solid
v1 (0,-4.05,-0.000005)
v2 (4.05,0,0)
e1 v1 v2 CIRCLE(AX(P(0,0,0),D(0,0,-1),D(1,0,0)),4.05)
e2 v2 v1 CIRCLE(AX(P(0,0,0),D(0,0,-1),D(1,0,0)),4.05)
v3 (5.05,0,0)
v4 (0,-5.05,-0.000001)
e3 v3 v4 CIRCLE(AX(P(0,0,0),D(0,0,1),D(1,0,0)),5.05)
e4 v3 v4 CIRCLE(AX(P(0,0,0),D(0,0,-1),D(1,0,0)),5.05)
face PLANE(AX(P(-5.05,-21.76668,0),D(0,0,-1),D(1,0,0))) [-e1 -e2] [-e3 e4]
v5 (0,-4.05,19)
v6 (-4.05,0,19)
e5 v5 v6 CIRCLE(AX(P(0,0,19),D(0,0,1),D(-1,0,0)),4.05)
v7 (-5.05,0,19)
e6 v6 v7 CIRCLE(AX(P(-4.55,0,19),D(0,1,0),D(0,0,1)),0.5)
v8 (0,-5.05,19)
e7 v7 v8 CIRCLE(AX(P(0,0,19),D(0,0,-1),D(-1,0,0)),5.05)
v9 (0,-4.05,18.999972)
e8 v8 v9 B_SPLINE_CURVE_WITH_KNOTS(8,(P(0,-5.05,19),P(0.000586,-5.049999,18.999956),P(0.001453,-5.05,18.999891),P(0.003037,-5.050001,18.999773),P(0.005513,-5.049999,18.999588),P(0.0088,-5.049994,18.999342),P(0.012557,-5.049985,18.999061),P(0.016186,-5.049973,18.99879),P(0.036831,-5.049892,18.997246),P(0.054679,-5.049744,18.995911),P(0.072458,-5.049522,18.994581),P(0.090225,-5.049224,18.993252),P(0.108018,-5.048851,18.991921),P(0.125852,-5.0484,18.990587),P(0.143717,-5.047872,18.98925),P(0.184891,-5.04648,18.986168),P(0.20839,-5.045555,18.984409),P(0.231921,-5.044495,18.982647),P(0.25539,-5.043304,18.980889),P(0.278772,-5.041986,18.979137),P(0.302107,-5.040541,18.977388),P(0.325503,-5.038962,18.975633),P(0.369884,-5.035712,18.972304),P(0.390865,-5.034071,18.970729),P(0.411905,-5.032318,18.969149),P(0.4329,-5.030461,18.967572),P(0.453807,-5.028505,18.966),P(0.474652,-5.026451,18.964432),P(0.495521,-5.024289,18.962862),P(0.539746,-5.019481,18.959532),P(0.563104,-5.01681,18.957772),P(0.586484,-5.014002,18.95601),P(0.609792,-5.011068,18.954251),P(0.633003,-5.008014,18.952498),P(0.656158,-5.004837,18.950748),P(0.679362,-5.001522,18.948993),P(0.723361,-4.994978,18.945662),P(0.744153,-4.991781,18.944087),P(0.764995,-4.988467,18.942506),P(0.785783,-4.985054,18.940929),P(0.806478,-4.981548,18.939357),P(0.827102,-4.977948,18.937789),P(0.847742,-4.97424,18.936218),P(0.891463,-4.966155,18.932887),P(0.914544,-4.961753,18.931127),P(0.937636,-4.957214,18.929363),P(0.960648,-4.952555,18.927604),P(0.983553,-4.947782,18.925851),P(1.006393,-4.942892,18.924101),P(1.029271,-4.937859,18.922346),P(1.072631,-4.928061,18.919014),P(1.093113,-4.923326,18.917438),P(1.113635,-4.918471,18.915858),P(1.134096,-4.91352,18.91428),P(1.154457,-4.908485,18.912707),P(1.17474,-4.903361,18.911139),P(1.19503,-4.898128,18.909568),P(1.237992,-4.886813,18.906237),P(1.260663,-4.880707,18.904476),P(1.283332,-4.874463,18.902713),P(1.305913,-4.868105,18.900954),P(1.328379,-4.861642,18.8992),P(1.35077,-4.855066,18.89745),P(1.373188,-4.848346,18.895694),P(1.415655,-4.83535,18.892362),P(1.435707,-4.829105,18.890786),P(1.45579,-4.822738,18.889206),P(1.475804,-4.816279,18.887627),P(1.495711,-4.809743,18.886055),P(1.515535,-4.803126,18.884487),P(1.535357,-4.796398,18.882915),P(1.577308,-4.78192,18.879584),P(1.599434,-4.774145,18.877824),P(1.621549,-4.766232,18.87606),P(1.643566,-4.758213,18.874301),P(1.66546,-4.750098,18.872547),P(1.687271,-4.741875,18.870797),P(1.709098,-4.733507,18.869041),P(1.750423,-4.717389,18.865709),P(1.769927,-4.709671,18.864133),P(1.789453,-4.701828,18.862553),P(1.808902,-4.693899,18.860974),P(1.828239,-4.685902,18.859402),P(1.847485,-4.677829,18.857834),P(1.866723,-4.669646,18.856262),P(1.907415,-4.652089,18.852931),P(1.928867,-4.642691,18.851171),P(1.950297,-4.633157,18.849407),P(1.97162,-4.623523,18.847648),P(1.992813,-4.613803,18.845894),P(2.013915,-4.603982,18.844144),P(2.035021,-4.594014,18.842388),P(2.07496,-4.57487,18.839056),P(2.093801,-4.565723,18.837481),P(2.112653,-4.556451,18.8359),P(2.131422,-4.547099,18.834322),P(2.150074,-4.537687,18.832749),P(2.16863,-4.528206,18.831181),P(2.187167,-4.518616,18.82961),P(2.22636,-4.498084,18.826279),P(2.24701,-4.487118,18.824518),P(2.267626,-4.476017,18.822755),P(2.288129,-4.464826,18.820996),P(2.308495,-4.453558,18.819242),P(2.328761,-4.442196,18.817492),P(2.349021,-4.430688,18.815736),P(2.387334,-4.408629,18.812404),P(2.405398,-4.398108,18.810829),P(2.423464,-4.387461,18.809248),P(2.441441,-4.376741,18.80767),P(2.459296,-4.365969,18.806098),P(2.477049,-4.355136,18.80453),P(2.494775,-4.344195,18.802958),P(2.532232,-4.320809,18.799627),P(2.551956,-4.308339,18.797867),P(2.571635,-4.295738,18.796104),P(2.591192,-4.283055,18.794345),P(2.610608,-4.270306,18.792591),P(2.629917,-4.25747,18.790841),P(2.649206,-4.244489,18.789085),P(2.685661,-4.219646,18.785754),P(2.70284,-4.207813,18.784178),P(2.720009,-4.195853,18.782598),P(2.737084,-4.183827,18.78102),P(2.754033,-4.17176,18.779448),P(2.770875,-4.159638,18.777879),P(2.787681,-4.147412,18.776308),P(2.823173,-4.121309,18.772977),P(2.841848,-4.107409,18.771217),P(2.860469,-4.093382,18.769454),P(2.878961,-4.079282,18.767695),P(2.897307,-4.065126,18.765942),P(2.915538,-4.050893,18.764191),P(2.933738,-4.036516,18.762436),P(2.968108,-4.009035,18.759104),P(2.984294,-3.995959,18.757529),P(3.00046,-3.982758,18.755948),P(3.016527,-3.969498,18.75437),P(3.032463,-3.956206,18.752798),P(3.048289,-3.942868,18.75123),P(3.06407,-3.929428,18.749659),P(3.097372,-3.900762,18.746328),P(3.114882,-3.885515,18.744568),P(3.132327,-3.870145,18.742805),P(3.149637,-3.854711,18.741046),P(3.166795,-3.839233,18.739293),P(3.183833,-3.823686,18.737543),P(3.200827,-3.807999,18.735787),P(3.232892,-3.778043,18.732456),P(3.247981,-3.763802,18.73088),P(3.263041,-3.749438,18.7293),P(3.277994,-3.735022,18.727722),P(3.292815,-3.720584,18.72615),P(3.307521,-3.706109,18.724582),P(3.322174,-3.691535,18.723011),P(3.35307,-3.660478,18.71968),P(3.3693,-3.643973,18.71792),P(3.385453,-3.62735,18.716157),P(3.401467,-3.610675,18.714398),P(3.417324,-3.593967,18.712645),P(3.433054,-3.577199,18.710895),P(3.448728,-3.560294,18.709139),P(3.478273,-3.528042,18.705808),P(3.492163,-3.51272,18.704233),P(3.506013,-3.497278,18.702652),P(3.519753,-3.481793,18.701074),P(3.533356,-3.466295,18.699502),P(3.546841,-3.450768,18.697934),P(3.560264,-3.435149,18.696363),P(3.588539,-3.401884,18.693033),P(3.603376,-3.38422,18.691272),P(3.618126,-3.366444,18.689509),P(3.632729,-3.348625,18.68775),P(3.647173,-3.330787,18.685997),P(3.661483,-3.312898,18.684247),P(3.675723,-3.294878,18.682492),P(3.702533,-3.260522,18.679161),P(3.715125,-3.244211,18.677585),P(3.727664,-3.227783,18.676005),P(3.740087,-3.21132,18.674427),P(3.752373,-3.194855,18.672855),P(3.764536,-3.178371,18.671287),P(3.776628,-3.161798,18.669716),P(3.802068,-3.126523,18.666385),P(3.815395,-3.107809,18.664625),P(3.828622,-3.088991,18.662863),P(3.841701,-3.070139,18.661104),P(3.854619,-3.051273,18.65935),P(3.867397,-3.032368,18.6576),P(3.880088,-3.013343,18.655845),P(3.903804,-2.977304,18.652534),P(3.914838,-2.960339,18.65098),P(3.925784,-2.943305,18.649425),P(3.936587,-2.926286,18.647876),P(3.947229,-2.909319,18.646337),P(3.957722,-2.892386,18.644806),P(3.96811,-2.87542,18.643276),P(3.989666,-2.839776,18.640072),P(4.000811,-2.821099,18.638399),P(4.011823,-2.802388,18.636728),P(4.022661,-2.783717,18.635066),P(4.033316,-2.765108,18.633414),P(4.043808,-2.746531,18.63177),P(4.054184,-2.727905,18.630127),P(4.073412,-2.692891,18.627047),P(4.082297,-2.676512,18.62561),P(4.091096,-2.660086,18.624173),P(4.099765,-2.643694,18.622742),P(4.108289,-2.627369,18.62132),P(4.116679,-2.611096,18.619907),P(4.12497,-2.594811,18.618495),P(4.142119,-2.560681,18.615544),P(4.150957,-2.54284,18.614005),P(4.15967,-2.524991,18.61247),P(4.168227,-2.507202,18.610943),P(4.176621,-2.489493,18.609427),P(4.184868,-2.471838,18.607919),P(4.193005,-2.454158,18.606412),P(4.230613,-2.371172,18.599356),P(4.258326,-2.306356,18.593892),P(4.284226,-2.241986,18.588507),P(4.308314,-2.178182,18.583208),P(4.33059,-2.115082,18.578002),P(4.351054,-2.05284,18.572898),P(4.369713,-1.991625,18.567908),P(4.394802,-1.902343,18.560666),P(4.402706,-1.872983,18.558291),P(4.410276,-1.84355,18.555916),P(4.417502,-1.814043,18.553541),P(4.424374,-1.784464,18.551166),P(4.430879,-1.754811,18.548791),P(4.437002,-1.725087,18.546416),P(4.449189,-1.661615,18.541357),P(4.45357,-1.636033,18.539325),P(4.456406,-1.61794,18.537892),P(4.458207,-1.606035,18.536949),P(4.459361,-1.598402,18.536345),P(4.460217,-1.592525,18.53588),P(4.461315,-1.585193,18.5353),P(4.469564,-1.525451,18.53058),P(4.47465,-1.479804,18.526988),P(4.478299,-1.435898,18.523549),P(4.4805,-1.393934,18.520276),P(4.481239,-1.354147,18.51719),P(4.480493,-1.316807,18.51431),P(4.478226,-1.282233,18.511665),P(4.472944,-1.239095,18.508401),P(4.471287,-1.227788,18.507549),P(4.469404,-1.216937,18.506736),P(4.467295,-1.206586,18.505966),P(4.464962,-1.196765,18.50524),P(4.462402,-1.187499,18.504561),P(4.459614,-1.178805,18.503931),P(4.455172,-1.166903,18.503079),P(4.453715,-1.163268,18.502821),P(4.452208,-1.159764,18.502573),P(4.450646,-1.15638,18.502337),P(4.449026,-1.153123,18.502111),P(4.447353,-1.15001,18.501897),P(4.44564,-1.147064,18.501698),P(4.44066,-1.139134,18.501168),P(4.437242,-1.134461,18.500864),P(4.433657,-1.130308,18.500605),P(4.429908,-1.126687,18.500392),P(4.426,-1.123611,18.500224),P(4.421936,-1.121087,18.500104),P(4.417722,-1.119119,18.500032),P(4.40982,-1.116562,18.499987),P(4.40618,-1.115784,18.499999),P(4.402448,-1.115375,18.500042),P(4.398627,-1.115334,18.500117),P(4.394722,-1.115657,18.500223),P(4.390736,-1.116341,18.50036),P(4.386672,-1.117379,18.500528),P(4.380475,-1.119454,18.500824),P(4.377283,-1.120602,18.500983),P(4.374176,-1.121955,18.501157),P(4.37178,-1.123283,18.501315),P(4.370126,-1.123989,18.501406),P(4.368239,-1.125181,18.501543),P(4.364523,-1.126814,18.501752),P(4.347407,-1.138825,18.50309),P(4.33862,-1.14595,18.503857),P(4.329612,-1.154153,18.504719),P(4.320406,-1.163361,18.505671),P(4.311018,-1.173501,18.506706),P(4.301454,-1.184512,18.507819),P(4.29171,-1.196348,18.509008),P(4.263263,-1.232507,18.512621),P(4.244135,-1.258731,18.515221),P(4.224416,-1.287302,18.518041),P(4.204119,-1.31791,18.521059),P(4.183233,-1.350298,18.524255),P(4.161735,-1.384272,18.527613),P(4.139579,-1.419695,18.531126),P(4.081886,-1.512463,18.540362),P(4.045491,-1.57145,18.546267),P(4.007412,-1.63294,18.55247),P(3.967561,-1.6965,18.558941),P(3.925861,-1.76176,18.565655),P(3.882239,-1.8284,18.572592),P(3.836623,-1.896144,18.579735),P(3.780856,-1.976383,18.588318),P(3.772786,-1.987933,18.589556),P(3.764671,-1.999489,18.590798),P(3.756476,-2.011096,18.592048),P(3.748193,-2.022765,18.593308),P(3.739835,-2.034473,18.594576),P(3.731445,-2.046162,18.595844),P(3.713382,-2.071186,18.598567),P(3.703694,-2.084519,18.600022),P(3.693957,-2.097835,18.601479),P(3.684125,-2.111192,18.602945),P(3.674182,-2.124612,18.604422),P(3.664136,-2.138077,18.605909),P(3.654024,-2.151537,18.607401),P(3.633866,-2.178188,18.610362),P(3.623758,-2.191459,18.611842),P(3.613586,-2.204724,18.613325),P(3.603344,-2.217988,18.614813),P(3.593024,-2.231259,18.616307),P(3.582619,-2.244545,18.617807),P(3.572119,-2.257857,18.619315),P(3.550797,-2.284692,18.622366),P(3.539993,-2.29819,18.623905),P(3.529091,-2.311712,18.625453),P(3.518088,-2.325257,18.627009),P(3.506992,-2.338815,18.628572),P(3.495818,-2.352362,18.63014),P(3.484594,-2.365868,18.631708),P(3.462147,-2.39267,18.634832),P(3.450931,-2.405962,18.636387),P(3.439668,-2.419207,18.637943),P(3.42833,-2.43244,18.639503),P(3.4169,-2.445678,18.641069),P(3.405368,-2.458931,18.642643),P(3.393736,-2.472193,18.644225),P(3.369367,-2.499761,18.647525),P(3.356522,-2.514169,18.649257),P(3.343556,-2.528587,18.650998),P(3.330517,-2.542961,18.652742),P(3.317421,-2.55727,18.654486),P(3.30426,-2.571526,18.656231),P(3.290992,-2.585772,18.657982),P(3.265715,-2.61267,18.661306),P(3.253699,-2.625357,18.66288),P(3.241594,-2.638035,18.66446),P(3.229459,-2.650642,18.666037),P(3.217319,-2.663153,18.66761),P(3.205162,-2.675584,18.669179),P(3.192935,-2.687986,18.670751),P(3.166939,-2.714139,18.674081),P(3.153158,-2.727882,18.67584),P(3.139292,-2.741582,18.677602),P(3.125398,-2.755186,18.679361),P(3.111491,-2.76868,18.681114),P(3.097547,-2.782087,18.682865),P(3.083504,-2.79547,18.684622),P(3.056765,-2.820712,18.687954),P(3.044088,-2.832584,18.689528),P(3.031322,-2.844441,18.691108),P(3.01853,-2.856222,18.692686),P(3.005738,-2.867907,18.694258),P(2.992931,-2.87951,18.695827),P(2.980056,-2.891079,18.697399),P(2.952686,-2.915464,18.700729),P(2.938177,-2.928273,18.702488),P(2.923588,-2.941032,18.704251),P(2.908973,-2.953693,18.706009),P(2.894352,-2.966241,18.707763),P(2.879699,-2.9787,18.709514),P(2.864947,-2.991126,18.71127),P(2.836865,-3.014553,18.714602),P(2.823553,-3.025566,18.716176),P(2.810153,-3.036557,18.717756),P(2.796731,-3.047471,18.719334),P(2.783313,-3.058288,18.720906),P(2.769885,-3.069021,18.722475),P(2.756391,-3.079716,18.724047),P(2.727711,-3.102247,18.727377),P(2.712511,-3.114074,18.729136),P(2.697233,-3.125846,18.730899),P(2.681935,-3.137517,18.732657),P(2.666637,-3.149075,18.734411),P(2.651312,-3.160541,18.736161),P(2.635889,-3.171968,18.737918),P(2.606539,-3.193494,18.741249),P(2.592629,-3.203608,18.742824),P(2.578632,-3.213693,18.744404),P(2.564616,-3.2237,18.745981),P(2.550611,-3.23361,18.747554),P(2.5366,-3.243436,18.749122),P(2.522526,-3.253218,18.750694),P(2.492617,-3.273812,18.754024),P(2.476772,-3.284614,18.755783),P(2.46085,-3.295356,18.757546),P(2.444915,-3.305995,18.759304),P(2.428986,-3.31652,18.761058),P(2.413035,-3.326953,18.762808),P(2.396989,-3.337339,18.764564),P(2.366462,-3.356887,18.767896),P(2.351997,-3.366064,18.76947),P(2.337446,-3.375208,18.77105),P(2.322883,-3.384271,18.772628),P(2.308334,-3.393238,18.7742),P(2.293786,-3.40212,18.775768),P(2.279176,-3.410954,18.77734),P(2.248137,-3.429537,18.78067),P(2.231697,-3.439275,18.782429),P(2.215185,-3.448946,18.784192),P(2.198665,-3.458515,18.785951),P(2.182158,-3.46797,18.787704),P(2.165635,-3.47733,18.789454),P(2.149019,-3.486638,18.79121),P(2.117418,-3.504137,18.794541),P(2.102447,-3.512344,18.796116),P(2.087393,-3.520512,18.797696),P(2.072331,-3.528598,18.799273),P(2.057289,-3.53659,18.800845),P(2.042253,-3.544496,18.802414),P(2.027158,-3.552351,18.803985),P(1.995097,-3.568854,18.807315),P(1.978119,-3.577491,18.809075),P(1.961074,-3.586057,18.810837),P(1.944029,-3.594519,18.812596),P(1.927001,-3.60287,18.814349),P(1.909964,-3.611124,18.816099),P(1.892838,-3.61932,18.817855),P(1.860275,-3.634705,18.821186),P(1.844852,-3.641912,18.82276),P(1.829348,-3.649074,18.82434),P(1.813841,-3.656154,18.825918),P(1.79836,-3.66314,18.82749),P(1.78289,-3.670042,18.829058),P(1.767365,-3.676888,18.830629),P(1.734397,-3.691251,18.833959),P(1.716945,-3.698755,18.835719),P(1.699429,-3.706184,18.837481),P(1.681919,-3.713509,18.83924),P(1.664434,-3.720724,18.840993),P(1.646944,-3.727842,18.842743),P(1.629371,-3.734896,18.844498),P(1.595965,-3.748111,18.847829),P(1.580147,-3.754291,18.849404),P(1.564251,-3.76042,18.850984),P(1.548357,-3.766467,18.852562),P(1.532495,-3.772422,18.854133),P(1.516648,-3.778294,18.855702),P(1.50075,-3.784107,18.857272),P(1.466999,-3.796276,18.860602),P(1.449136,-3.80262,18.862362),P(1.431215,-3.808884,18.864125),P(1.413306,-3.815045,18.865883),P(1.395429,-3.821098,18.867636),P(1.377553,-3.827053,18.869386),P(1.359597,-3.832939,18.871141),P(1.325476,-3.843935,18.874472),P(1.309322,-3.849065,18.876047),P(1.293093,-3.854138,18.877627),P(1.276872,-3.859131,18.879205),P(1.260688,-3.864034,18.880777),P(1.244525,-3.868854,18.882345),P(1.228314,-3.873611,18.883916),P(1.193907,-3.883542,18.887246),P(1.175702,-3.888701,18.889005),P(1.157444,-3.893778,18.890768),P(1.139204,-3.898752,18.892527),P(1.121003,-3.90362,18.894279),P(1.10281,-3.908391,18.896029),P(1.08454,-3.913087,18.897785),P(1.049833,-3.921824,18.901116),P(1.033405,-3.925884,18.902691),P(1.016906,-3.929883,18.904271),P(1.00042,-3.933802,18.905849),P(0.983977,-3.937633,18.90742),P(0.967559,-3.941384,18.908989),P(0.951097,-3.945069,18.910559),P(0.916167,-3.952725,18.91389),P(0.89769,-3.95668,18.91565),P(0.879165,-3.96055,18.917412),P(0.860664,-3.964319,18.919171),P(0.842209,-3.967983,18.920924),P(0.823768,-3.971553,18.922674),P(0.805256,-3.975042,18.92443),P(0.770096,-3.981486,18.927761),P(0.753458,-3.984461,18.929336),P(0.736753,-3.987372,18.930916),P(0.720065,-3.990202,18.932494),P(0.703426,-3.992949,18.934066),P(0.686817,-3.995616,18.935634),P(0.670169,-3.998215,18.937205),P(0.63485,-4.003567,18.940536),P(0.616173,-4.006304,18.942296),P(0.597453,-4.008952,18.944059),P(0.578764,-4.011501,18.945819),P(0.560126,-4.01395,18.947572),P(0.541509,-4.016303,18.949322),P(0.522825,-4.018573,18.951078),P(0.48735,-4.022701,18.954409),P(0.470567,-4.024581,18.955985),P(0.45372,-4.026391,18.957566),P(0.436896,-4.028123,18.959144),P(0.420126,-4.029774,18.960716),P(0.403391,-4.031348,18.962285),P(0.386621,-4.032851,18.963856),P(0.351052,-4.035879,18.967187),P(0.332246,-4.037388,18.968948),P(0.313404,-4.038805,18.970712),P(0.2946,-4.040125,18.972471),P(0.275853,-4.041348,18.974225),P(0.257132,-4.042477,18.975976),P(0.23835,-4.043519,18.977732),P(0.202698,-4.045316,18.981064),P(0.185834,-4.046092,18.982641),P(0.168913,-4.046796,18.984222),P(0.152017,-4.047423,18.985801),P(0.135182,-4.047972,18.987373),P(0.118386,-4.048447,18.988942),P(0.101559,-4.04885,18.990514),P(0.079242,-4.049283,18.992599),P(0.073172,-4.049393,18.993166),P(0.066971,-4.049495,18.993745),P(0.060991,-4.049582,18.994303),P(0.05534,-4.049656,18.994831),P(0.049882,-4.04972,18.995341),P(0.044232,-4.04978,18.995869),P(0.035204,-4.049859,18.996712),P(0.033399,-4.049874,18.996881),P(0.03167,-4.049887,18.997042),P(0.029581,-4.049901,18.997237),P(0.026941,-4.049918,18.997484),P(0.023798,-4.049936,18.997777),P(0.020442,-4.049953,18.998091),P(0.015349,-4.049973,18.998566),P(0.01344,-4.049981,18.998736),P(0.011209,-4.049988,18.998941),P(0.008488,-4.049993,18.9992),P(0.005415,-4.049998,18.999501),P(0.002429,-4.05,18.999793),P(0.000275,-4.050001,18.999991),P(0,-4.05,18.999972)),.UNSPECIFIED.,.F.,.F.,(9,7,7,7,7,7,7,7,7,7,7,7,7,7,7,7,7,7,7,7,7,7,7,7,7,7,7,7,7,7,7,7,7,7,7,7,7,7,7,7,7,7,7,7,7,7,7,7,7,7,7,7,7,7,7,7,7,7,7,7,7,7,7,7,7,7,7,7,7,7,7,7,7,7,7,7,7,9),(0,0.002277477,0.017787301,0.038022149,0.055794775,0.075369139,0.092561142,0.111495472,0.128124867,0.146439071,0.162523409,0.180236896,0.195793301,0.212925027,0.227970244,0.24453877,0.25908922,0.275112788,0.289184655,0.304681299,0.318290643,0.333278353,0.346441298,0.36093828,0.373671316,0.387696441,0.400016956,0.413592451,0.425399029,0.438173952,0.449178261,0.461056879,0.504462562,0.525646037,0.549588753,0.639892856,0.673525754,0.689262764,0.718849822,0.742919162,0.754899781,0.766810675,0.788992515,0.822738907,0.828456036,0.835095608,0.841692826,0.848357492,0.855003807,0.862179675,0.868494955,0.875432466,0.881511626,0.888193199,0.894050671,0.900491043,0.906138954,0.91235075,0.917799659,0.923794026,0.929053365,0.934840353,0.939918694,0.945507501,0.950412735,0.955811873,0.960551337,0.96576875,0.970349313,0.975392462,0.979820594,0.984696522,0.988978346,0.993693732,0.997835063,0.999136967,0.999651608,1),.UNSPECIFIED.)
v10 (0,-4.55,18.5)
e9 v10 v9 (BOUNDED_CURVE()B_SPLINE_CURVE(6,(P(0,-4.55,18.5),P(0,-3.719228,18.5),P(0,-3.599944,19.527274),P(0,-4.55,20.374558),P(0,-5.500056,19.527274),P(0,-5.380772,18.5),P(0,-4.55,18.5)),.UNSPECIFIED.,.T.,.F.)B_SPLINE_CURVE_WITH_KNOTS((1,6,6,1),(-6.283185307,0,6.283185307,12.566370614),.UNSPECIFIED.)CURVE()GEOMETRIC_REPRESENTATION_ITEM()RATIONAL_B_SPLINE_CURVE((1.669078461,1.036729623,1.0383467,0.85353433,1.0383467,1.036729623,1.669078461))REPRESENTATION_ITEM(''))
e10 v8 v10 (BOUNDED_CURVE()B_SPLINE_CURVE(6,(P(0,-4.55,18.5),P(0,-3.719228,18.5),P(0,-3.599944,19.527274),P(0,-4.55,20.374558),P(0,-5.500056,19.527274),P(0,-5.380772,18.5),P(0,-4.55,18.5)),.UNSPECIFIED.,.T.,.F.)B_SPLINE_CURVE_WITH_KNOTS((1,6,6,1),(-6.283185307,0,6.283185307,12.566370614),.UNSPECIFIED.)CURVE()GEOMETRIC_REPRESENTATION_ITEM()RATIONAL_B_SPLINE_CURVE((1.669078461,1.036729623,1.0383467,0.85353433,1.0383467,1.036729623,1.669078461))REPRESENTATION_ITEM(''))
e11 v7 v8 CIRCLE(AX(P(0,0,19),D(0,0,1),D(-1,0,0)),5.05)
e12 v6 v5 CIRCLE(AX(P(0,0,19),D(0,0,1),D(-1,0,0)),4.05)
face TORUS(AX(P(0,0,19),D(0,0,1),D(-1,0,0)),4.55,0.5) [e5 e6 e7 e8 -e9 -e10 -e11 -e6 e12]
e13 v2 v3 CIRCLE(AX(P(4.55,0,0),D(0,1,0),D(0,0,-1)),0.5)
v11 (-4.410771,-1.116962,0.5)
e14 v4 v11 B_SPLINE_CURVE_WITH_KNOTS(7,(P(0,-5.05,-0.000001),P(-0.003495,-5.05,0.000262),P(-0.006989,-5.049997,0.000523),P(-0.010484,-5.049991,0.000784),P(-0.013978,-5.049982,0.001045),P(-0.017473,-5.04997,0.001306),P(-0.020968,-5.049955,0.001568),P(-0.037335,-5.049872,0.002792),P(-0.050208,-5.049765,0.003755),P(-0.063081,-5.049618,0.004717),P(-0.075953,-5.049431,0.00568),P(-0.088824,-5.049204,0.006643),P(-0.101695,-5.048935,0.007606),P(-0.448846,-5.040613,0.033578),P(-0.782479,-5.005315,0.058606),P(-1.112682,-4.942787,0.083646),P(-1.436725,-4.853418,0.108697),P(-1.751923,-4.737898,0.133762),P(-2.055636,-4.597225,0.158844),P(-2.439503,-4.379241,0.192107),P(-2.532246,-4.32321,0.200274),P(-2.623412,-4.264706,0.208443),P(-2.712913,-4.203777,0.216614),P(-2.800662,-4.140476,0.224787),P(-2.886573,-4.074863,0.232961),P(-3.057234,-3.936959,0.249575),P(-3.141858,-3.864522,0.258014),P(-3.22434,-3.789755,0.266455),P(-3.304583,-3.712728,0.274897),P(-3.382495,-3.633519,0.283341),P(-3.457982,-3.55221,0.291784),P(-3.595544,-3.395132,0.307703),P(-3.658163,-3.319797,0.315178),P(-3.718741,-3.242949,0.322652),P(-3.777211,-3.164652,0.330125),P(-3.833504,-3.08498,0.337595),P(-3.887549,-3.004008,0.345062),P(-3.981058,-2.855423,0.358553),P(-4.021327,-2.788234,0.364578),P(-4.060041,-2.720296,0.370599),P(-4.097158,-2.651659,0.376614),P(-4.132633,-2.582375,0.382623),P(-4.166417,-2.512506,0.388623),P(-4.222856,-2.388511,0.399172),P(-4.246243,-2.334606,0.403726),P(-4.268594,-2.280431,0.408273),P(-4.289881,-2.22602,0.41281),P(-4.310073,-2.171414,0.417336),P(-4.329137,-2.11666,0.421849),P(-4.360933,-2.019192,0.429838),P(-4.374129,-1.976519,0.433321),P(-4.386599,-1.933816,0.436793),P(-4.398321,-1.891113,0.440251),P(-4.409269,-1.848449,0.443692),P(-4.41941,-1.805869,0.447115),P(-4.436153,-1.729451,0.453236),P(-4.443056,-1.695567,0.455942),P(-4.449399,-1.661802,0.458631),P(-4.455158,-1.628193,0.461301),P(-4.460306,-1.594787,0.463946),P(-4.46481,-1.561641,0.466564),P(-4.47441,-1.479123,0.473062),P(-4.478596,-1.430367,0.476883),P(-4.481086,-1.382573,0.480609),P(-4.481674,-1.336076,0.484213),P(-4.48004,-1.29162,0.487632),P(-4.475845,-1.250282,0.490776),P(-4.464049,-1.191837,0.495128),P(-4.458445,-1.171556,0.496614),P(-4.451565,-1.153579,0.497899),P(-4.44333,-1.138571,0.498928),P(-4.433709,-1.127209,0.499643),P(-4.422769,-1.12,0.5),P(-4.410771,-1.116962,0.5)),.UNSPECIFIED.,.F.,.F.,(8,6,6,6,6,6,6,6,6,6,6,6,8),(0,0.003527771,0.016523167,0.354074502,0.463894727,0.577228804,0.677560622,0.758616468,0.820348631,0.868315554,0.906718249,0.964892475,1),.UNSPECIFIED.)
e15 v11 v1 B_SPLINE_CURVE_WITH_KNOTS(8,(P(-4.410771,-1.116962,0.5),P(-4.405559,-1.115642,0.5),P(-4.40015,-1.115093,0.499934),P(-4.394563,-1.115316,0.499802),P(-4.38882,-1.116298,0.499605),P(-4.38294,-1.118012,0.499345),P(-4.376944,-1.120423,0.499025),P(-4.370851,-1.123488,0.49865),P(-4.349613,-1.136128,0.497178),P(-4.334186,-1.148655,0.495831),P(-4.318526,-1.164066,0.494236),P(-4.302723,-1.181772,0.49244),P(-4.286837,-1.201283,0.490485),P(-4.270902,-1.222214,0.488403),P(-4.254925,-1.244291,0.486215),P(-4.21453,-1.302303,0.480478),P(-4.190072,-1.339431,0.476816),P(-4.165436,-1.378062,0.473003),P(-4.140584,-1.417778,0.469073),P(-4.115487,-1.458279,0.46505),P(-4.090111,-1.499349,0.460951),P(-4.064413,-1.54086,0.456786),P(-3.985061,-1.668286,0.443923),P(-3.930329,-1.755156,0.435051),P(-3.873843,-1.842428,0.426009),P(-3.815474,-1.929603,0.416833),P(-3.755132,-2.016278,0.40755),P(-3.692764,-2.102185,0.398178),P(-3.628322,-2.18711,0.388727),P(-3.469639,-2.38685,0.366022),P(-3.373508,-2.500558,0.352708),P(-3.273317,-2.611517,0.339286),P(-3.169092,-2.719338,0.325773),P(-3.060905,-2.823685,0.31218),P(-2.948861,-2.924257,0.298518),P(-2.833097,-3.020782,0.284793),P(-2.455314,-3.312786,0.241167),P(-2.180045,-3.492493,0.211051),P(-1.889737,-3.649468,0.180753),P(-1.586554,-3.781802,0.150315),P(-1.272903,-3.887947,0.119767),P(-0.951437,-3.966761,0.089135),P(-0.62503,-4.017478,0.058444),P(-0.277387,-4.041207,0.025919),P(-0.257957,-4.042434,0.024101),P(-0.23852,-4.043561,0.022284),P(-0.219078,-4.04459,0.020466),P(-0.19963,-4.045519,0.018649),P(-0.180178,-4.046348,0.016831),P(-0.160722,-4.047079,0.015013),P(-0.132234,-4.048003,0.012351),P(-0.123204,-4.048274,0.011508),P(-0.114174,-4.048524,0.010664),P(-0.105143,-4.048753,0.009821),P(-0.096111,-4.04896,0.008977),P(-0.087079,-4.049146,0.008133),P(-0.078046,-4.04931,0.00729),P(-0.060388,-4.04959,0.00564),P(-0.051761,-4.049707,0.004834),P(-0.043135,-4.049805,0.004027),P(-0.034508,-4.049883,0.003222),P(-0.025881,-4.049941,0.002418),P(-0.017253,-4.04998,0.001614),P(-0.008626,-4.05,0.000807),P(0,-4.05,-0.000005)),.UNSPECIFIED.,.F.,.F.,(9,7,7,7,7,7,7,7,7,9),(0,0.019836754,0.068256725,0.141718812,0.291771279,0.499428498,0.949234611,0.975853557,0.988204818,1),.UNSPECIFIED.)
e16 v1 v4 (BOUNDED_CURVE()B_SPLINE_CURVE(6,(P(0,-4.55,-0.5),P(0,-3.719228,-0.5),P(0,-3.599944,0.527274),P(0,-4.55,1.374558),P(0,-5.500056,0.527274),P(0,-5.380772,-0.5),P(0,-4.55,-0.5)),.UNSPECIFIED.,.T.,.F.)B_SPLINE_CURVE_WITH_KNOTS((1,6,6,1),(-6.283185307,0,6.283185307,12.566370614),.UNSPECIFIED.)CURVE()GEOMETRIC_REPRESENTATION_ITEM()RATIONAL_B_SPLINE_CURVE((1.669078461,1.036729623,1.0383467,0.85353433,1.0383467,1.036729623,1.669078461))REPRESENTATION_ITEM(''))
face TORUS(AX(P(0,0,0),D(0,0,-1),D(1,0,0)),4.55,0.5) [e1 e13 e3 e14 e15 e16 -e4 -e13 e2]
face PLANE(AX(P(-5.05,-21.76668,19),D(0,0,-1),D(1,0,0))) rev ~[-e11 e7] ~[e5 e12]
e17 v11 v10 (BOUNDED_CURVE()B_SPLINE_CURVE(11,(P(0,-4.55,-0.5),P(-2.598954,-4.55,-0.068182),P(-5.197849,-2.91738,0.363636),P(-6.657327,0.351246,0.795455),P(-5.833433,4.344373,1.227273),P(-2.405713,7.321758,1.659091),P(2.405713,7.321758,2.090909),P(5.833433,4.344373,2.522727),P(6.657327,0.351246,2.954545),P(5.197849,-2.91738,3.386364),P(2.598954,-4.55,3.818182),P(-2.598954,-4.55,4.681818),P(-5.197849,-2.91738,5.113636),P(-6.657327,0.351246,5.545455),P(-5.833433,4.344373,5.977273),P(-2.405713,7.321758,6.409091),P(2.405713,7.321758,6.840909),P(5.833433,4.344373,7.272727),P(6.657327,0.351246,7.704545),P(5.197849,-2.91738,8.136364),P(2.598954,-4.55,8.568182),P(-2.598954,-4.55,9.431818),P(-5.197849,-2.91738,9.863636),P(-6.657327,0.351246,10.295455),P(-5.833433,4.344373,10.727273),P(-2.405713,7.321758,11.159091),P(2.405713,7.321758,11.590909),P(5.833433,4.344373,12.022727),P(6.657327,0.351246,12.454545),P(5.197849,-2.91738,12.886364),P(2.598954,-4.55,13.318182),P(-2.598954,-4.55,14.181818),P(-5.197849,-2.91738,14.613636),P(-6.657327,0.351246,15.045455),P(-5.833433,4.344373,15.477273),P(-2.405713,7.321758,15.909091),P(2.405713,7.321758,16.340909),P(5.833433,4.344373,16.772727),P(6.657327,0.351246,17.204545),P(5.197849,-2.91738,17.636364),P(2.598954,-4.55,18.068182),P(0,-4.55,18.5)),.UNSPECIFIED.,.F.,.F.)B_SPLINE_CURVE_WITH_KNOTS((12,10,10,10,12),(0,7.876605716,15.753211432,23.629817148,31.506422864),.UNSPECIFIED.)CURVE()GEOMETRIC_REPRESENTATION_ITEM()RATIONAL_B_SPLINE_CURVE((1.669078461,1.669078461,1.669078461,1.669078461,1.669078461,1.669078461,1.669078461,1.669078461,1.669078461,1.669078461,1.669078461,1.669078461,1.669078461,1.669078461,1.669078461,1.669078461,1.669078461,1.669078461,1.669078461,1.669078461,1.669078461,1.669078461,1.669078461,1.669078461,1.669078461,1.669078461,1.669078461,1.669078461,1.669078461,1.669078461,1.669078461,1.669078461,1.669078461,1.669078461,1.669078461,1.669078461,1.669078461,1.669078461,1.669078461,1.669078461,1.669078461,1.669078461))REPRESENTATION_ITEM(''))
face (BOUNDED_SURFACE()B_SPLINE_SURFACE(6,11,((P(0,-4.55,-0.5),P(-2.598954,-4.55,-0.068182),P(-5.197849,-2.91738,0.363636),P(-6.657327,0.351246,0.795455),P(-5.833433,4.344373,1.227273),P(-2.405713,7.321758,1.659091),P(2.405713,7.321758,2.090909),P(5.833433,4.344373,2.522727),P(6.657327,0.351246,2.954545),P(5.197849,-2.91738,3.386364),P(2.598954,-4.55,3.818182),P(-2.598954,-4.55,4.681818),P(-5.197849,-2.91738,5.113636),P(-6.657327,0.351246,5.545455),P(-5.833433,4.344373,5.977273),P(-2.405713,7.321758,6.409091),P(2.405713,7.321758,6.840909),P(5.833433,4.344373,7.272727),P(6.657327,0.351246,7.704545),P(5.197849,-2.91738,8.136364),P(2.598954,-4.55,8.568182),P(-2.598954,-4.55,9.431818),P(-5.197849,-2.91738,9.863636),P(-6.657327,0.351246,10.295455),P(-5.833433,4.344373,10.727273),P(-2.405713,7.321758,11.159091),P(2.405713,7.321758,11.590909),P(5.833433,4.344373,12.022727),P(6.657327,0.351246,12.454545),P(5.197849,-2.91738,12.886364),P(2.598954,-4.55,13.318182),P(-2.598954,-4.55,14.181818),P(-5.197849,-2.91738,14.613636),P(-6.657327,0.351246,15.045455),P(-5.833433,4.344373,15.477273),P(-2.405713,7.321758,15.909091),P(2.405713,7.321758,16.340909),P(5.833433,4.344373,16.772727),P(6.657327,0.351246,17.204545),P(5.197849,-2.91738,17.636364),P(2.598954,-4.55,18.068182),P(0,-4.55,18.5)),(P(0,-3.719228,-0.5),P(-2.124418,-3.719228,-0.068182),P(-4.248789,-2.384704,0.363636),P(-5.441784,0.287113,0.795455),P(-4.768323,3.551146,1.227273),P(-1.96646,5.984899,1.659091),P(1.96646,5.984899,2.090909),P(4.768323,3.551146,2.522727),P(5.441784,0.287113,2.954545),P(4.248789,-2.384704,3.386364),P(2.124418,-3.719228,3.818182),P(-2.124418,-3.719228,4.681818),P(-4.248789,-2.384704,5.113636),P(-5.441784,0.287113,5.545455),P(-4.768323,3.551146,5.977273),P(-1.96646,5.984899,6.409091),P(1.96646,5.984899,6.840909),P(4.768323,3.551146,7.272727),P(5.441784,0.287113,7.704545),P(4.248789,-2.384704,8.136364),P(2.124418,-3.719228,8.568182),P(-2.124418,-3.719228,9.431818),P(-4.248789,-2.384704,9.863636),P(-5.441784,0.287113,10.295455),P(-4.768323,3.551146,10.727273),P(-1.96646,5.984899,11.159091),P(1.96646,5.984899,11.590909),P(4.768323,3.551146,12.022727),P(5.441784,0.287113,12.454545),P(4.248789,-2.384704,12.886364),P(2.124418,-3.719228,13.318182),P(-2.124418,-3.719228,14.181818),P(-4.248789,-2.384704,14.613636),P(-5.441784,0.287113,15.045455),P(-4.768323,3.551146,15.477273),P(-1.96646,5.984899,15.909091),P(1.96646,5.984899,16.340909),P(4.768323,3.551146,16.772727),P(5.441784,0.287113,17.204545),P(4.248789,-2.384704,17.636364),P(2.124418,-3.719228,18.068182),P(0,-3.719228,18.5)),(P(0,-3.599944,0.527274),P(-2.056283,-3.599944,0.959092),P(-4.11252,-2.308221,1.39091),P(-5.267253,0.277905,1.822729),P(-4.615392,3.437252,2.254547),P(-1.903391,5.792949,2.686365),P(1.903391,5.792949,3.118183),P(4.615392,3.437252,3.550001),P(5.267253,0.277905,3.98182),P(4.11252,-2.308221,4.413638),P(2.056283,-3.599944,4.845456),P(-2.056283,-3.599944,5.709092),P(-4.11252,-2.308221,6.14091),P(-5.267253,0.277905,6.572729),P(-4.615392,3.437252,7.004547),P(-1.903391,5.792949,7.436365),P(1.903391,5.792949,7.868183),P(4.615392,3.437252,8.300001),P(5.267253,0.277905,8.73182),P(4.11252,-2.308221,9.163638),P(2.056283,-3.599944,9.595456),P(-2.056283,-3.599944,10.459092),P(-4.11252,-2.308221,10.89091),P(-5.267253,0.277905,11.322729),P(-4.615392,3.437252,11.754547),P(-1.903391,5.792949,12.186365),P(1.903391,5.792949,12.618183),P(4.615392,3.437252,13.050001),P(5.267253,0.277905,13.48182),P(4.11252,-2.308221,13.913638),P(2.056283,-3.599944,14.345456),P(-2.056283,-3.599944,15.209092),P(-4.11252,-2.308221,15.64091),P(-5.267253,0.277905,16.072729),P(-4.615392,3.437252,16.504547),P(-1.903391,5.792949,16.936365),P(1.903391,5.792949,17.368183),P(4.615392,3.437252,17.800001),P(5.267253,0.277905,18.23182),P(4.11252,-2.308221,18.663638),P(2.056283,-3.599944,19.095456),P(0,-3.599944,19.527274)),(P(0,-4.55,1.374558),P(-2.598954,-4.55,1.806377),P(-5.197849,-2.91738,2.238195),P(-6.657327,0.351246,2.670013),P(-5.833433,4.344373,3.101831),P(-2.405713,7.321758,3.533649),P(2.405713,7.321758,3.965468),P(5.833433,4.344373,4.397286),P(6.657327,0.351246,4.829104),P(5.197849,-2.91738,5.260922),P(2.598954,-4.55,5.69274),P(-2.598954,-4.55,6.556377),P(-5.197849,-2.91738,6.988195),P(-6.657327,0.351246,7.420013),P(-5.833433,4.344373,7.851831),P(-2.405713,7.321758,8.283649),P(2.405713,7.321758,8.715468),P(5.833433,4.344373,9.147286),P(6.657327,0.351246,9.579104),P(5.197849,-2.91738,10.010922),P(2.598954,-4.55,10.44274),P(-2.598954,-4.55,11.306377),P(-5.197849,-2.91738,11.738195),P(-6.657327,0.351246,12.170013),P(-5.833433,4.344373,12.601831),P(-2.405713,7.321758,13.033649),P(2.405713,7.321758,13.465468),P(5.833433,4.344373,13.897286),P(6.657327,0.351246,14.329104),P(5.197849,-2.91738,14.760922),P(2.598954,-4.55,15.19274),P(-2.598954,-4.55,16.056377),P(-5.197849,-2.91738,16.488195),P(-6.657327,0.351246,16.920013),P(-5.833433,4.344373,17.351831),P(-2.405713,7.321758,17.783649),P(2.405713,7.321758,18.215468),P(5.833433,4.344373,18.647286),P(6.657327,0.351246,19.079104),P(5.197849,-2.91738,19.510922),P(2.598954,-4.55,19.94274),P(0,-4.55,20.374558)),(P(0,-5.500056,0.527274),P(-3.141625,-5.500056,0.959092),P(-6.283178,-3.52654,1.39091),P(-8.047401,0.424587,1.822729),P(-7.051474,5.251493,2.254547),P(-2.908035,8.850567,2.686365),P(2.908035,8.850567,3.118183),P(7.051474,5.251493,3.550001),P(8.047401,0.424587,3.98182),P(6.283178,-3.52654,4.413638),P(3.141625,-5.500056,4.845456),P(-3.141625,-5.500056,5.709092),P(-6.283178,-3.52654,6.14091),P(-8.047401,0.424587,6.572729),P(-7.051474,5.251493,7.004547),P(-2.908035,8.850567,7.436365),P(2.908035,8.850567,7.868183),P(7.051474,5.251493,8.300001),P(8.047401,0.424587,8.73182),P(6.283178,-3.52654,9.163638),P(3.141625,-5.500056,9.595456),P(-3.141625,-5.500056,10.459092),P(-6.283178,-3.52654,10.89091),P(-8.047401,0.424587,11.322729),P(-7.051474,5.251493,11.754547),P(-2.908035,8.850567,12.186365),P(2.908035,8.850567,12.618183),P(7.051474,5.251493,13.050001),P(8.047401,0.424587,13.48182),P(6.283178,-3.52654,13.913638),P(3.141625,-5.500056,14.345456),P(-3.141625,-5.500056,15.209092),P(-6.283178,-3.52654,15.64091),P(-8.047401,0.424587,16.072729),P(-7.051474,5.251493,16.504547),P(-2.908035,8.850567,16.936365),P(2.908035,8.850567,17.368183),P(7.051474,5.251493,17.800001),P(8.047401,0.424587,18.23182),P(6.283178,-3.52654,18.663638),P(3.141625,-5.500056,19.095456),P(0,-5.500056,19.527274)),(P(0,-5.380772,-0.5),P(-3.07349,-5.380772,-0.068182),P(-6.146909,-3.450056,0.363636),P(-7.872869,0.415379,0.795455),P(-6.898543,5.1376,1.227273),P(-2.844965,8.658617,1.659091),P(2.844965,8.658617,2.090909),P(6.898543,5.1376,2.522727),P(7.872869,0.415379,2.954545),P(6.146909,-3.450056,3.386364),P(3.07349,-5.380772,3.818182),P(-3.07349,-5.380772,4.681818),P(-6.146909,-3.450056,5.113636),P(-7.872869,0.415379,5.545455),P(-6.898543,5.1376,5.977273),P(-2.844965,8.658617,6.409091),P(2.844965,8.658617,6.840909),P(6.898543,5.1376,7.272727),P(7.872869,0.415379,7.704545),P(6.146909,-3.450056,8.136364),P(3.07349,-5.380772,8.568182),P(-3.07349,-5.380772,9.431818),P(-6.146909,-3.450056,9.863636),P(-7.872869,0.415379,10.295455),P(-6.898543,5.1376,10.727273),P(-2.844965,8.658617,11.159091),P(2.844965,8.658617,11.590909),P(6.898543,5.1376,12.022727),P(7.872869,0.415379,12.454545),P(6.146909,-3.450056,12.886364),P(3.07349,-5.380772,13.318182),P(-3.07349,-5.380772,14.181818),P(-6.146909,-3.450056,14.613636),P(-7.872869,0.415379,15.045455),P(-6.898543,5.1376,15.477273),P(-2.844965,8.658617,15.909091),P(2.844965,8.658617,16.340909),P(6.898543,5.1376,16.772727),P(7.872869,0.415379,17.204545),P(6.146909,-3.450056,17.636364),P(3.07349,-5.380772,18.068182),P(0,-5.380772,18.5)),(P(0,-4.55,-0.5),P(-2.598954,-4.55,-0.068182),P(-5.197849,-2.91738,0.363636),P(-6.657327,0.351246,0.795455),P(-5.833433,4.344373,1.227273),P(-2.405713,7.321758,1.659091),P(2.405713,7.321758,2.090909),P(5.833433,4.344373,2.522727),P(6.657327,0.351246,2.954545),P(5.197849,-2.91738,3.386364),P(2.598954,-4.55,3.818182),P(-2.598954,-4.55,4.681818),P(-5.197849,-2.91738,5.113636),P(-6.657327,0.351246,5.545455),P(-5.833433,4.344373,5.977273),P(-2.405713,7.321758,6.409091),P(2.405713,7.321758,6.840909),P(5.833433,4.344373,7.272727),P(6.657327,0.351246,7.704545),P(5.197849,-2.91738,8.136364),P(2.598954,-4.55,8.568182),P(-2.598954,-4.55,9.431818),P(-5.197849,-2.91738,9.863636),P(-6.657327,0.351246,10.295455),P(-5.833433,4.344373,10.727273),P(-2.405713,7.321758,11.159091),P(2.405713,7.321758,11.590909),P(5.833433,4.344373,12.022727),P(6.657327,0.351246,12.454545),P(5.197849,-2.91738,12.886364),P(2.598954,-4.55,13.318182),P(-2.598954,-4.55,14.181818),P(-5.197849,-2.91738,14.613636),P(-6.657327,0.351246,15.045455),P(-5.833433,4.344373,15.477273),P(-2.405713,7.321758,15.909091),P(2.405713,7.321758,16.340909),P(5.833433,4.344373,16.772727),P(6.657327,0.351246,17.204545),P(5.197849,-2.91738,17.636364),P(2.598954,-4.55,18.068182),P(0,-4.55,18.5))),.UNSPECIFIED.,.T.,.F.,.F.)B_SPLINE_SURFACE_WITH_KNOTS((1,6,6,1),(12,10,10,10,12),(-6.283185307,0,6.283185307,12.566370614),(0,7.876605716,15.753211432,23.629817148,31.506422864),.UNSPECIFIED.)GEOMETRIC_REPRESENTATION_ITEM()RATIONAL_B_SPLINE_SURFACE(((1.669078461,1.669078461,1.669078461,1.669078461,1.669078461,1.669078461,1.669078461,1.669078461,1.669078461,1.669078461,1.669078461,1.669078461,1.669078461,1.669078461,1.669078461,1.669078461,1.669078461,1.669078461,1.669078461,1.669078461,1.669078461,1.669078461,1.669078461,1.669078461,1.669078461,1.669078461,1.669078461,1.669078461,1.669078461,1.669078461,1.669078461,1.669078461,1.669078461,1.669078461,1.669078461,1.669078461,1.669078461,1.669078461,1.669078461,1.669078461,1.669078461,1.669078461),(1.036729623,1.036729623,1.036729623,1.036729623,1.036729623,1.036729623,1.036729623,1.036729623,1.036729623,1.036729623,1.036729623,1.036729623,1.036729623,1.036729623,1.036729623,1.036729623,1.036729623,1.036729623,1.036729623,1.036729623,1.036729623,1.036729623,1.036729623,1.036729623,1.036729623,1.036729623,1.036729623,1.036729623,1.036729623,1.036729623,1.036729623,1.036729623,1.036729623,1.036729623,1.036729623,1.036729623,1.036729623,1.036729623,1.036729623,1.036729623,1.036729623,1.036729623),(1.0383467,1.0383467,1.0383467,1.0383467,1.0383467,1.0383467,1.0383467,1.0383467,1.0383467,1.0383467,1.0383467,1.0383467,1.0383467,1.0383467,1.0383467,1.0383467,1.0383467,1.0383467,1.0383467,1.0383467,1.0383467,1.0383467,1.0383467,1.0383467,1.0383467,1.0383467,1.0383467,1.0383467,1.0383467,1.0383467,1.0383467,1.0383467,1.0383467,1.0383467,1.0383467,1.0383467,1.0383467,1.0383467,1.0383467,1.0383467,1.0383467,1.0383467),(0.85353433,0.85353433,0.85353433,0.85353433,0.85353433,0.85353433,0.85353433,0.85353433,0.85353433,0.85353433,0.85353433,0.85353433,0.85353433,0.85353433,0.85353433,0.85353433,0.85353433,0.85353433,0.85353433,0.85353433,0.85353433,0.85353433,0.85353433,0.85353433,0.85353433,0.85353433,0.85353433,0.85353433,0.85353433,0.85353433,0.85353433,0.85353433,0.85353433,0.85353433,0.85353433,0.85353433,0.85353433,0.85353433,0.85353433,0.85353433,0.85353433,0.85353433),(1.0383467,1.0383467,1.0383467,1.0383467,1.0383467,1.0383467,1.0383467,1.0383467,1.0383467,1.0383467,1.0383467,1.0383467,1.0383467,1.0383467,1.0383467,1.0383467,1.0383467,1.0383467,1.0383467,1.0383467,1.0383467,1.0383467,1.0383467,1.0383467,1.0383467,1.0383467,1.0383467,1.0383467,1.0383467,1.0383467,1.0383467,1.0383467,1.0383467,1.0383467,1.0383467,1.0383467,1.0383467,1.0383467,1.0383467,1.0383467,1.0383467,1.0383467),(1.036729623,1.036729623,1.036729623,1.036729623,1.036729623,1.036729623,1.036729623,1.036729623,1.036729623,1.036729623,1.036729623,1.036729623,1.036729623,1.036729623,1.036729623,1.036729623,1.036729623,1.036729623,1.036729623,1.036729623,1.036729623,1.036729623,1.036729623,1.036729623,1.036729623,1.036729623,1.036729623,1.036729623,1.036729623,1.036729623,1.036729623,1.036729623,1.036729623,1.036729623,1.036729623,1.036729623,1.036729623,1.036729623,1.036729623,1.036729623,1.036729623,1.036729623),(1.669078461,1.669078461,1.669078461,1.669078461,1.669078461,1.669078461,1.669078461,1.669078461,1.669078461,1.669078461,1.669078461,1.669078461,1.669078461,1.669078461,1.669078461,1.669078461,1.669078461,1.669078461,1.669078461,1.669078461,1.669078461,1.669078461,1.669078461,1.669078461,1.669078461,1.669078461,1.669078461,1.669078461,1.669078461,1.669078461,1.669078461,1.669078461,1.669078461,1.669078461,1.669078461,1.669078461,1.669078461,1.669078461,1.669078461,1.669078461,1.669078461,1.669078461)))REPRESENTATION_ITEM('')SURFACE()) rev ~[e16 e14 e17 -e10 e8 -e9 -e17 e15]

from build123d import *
from build123d.topology import SkipClean

# Parameters (mm, degrees)
SWEEP1_PITCH                  = 4.75
SWEEP1_HEIGHT                 = 19
SWEEP1_RADIUS                 = 4.55
SWEEP1_START_ANGLE            = -90
SCHIZZO19_R                   = 0.5
SCHIZZO17_R                   = 0.5
SCHIZZO18_R                   = 0.5
TAGLIO_ESTRUSIONE1_DEPTH      = 21.766680185
TAGLIO_ESTRUSIONE1_DEPTH_BACK = 21.766680185
SCHIZZO23_W                   = 10.1
SCHIZZO23_H                   = 0.5


with BuildPart() as part:
    # Sweep1: sweep along a helix
    with BuildLine() as sweep1_path:
        add(Helix(SWEEP1_PITCH, SWEEP1_HEIGHT, SWEEP1_RADIUS, center=(0, 0, 0), direction=(0, 0, 1), lefthand=True, mode=Mode.PRIVATE).rotate(Axis((0, 0, 0), (0, 0, 1)), SWEEP1_START_ANGLE))
    # Schizzo19 → Sweep1 (sweep)
    with BuildSketch(Plane(origin=(0, 0, 0), x_dir=(0, 0, -1), z_dir=(1, 0, 0))):
        with Locations((0, -4.55)):
            Circle(SCHIZZO19_R)
    sweep(path=sweep1_path.line, is_frenet=True)

    # Schizzo17 → Rivoluzione3 (revolve)
    with SkipClean():  # the faces are left unmerged after this step: merging them gives an invalid solid
        with BuildSketch(Plane.ZY, mode=Mode.PRIVATE) as rivoluzione3_sk:
            with Locations((19, -4.55)):
                Circle(SCHIZZO17_R)
        revolve(rivoluzione3_sk.sketch.rotate(Axis((0, 0, -1000), (0, 0, 1)), 270), axis=Axis((0, 0, -1000), (0, 0, 1)))

    # Schizzo18 → Rivoluzione4 (revolve)
    with SkipClean():  # the faces are left unmerged after this step: merging them gives an invalid solid
        with BuildSketch(Plane(origin=(0, 0, 0), x_dir=(0, 0, -1), z_dir=(1, 0, 0)), mode=Mode.PRIVATE) as rivoluzione4_sk:
            with Locations((0, -4.55)):
                Circle(SCHIZZO18_R)
        revolve(rivoluzione4_sk.sketch.rotate(Axis((0, 0, 1000), (0, 0, -1)), 270), axis=Axis((0, 0, 1000), (0, 0, -1)))

    # Schizzo23 → Taglio-Estrusione1 (cut, two sides: drawn at the far end of the back side and taken through both)
    with BuildSketch(Plane(origin=(0, 0, 0), x_dir=(1, 0, 0), z_dir=(0, 1, 0)).offset(-TAGLIO_ESTRUSIONE1_DEPTH_BACK)):
        with Locations((0, 0.25)):
            Rectangle(SCHIZZO23_W, SCHIZZO23_H)
        with Locations((0, -19.25)):
            Rectangle(SCHIZZO23_W, SCHIZZO23_H)
    extrude(amount=TAGLIO_ESTRUSIONE1_DEPTH + TAGLIO_ESTRUSIONE1_DEPTH_BACK, mode=Mode.SUBTRACT)


solid = part.part
